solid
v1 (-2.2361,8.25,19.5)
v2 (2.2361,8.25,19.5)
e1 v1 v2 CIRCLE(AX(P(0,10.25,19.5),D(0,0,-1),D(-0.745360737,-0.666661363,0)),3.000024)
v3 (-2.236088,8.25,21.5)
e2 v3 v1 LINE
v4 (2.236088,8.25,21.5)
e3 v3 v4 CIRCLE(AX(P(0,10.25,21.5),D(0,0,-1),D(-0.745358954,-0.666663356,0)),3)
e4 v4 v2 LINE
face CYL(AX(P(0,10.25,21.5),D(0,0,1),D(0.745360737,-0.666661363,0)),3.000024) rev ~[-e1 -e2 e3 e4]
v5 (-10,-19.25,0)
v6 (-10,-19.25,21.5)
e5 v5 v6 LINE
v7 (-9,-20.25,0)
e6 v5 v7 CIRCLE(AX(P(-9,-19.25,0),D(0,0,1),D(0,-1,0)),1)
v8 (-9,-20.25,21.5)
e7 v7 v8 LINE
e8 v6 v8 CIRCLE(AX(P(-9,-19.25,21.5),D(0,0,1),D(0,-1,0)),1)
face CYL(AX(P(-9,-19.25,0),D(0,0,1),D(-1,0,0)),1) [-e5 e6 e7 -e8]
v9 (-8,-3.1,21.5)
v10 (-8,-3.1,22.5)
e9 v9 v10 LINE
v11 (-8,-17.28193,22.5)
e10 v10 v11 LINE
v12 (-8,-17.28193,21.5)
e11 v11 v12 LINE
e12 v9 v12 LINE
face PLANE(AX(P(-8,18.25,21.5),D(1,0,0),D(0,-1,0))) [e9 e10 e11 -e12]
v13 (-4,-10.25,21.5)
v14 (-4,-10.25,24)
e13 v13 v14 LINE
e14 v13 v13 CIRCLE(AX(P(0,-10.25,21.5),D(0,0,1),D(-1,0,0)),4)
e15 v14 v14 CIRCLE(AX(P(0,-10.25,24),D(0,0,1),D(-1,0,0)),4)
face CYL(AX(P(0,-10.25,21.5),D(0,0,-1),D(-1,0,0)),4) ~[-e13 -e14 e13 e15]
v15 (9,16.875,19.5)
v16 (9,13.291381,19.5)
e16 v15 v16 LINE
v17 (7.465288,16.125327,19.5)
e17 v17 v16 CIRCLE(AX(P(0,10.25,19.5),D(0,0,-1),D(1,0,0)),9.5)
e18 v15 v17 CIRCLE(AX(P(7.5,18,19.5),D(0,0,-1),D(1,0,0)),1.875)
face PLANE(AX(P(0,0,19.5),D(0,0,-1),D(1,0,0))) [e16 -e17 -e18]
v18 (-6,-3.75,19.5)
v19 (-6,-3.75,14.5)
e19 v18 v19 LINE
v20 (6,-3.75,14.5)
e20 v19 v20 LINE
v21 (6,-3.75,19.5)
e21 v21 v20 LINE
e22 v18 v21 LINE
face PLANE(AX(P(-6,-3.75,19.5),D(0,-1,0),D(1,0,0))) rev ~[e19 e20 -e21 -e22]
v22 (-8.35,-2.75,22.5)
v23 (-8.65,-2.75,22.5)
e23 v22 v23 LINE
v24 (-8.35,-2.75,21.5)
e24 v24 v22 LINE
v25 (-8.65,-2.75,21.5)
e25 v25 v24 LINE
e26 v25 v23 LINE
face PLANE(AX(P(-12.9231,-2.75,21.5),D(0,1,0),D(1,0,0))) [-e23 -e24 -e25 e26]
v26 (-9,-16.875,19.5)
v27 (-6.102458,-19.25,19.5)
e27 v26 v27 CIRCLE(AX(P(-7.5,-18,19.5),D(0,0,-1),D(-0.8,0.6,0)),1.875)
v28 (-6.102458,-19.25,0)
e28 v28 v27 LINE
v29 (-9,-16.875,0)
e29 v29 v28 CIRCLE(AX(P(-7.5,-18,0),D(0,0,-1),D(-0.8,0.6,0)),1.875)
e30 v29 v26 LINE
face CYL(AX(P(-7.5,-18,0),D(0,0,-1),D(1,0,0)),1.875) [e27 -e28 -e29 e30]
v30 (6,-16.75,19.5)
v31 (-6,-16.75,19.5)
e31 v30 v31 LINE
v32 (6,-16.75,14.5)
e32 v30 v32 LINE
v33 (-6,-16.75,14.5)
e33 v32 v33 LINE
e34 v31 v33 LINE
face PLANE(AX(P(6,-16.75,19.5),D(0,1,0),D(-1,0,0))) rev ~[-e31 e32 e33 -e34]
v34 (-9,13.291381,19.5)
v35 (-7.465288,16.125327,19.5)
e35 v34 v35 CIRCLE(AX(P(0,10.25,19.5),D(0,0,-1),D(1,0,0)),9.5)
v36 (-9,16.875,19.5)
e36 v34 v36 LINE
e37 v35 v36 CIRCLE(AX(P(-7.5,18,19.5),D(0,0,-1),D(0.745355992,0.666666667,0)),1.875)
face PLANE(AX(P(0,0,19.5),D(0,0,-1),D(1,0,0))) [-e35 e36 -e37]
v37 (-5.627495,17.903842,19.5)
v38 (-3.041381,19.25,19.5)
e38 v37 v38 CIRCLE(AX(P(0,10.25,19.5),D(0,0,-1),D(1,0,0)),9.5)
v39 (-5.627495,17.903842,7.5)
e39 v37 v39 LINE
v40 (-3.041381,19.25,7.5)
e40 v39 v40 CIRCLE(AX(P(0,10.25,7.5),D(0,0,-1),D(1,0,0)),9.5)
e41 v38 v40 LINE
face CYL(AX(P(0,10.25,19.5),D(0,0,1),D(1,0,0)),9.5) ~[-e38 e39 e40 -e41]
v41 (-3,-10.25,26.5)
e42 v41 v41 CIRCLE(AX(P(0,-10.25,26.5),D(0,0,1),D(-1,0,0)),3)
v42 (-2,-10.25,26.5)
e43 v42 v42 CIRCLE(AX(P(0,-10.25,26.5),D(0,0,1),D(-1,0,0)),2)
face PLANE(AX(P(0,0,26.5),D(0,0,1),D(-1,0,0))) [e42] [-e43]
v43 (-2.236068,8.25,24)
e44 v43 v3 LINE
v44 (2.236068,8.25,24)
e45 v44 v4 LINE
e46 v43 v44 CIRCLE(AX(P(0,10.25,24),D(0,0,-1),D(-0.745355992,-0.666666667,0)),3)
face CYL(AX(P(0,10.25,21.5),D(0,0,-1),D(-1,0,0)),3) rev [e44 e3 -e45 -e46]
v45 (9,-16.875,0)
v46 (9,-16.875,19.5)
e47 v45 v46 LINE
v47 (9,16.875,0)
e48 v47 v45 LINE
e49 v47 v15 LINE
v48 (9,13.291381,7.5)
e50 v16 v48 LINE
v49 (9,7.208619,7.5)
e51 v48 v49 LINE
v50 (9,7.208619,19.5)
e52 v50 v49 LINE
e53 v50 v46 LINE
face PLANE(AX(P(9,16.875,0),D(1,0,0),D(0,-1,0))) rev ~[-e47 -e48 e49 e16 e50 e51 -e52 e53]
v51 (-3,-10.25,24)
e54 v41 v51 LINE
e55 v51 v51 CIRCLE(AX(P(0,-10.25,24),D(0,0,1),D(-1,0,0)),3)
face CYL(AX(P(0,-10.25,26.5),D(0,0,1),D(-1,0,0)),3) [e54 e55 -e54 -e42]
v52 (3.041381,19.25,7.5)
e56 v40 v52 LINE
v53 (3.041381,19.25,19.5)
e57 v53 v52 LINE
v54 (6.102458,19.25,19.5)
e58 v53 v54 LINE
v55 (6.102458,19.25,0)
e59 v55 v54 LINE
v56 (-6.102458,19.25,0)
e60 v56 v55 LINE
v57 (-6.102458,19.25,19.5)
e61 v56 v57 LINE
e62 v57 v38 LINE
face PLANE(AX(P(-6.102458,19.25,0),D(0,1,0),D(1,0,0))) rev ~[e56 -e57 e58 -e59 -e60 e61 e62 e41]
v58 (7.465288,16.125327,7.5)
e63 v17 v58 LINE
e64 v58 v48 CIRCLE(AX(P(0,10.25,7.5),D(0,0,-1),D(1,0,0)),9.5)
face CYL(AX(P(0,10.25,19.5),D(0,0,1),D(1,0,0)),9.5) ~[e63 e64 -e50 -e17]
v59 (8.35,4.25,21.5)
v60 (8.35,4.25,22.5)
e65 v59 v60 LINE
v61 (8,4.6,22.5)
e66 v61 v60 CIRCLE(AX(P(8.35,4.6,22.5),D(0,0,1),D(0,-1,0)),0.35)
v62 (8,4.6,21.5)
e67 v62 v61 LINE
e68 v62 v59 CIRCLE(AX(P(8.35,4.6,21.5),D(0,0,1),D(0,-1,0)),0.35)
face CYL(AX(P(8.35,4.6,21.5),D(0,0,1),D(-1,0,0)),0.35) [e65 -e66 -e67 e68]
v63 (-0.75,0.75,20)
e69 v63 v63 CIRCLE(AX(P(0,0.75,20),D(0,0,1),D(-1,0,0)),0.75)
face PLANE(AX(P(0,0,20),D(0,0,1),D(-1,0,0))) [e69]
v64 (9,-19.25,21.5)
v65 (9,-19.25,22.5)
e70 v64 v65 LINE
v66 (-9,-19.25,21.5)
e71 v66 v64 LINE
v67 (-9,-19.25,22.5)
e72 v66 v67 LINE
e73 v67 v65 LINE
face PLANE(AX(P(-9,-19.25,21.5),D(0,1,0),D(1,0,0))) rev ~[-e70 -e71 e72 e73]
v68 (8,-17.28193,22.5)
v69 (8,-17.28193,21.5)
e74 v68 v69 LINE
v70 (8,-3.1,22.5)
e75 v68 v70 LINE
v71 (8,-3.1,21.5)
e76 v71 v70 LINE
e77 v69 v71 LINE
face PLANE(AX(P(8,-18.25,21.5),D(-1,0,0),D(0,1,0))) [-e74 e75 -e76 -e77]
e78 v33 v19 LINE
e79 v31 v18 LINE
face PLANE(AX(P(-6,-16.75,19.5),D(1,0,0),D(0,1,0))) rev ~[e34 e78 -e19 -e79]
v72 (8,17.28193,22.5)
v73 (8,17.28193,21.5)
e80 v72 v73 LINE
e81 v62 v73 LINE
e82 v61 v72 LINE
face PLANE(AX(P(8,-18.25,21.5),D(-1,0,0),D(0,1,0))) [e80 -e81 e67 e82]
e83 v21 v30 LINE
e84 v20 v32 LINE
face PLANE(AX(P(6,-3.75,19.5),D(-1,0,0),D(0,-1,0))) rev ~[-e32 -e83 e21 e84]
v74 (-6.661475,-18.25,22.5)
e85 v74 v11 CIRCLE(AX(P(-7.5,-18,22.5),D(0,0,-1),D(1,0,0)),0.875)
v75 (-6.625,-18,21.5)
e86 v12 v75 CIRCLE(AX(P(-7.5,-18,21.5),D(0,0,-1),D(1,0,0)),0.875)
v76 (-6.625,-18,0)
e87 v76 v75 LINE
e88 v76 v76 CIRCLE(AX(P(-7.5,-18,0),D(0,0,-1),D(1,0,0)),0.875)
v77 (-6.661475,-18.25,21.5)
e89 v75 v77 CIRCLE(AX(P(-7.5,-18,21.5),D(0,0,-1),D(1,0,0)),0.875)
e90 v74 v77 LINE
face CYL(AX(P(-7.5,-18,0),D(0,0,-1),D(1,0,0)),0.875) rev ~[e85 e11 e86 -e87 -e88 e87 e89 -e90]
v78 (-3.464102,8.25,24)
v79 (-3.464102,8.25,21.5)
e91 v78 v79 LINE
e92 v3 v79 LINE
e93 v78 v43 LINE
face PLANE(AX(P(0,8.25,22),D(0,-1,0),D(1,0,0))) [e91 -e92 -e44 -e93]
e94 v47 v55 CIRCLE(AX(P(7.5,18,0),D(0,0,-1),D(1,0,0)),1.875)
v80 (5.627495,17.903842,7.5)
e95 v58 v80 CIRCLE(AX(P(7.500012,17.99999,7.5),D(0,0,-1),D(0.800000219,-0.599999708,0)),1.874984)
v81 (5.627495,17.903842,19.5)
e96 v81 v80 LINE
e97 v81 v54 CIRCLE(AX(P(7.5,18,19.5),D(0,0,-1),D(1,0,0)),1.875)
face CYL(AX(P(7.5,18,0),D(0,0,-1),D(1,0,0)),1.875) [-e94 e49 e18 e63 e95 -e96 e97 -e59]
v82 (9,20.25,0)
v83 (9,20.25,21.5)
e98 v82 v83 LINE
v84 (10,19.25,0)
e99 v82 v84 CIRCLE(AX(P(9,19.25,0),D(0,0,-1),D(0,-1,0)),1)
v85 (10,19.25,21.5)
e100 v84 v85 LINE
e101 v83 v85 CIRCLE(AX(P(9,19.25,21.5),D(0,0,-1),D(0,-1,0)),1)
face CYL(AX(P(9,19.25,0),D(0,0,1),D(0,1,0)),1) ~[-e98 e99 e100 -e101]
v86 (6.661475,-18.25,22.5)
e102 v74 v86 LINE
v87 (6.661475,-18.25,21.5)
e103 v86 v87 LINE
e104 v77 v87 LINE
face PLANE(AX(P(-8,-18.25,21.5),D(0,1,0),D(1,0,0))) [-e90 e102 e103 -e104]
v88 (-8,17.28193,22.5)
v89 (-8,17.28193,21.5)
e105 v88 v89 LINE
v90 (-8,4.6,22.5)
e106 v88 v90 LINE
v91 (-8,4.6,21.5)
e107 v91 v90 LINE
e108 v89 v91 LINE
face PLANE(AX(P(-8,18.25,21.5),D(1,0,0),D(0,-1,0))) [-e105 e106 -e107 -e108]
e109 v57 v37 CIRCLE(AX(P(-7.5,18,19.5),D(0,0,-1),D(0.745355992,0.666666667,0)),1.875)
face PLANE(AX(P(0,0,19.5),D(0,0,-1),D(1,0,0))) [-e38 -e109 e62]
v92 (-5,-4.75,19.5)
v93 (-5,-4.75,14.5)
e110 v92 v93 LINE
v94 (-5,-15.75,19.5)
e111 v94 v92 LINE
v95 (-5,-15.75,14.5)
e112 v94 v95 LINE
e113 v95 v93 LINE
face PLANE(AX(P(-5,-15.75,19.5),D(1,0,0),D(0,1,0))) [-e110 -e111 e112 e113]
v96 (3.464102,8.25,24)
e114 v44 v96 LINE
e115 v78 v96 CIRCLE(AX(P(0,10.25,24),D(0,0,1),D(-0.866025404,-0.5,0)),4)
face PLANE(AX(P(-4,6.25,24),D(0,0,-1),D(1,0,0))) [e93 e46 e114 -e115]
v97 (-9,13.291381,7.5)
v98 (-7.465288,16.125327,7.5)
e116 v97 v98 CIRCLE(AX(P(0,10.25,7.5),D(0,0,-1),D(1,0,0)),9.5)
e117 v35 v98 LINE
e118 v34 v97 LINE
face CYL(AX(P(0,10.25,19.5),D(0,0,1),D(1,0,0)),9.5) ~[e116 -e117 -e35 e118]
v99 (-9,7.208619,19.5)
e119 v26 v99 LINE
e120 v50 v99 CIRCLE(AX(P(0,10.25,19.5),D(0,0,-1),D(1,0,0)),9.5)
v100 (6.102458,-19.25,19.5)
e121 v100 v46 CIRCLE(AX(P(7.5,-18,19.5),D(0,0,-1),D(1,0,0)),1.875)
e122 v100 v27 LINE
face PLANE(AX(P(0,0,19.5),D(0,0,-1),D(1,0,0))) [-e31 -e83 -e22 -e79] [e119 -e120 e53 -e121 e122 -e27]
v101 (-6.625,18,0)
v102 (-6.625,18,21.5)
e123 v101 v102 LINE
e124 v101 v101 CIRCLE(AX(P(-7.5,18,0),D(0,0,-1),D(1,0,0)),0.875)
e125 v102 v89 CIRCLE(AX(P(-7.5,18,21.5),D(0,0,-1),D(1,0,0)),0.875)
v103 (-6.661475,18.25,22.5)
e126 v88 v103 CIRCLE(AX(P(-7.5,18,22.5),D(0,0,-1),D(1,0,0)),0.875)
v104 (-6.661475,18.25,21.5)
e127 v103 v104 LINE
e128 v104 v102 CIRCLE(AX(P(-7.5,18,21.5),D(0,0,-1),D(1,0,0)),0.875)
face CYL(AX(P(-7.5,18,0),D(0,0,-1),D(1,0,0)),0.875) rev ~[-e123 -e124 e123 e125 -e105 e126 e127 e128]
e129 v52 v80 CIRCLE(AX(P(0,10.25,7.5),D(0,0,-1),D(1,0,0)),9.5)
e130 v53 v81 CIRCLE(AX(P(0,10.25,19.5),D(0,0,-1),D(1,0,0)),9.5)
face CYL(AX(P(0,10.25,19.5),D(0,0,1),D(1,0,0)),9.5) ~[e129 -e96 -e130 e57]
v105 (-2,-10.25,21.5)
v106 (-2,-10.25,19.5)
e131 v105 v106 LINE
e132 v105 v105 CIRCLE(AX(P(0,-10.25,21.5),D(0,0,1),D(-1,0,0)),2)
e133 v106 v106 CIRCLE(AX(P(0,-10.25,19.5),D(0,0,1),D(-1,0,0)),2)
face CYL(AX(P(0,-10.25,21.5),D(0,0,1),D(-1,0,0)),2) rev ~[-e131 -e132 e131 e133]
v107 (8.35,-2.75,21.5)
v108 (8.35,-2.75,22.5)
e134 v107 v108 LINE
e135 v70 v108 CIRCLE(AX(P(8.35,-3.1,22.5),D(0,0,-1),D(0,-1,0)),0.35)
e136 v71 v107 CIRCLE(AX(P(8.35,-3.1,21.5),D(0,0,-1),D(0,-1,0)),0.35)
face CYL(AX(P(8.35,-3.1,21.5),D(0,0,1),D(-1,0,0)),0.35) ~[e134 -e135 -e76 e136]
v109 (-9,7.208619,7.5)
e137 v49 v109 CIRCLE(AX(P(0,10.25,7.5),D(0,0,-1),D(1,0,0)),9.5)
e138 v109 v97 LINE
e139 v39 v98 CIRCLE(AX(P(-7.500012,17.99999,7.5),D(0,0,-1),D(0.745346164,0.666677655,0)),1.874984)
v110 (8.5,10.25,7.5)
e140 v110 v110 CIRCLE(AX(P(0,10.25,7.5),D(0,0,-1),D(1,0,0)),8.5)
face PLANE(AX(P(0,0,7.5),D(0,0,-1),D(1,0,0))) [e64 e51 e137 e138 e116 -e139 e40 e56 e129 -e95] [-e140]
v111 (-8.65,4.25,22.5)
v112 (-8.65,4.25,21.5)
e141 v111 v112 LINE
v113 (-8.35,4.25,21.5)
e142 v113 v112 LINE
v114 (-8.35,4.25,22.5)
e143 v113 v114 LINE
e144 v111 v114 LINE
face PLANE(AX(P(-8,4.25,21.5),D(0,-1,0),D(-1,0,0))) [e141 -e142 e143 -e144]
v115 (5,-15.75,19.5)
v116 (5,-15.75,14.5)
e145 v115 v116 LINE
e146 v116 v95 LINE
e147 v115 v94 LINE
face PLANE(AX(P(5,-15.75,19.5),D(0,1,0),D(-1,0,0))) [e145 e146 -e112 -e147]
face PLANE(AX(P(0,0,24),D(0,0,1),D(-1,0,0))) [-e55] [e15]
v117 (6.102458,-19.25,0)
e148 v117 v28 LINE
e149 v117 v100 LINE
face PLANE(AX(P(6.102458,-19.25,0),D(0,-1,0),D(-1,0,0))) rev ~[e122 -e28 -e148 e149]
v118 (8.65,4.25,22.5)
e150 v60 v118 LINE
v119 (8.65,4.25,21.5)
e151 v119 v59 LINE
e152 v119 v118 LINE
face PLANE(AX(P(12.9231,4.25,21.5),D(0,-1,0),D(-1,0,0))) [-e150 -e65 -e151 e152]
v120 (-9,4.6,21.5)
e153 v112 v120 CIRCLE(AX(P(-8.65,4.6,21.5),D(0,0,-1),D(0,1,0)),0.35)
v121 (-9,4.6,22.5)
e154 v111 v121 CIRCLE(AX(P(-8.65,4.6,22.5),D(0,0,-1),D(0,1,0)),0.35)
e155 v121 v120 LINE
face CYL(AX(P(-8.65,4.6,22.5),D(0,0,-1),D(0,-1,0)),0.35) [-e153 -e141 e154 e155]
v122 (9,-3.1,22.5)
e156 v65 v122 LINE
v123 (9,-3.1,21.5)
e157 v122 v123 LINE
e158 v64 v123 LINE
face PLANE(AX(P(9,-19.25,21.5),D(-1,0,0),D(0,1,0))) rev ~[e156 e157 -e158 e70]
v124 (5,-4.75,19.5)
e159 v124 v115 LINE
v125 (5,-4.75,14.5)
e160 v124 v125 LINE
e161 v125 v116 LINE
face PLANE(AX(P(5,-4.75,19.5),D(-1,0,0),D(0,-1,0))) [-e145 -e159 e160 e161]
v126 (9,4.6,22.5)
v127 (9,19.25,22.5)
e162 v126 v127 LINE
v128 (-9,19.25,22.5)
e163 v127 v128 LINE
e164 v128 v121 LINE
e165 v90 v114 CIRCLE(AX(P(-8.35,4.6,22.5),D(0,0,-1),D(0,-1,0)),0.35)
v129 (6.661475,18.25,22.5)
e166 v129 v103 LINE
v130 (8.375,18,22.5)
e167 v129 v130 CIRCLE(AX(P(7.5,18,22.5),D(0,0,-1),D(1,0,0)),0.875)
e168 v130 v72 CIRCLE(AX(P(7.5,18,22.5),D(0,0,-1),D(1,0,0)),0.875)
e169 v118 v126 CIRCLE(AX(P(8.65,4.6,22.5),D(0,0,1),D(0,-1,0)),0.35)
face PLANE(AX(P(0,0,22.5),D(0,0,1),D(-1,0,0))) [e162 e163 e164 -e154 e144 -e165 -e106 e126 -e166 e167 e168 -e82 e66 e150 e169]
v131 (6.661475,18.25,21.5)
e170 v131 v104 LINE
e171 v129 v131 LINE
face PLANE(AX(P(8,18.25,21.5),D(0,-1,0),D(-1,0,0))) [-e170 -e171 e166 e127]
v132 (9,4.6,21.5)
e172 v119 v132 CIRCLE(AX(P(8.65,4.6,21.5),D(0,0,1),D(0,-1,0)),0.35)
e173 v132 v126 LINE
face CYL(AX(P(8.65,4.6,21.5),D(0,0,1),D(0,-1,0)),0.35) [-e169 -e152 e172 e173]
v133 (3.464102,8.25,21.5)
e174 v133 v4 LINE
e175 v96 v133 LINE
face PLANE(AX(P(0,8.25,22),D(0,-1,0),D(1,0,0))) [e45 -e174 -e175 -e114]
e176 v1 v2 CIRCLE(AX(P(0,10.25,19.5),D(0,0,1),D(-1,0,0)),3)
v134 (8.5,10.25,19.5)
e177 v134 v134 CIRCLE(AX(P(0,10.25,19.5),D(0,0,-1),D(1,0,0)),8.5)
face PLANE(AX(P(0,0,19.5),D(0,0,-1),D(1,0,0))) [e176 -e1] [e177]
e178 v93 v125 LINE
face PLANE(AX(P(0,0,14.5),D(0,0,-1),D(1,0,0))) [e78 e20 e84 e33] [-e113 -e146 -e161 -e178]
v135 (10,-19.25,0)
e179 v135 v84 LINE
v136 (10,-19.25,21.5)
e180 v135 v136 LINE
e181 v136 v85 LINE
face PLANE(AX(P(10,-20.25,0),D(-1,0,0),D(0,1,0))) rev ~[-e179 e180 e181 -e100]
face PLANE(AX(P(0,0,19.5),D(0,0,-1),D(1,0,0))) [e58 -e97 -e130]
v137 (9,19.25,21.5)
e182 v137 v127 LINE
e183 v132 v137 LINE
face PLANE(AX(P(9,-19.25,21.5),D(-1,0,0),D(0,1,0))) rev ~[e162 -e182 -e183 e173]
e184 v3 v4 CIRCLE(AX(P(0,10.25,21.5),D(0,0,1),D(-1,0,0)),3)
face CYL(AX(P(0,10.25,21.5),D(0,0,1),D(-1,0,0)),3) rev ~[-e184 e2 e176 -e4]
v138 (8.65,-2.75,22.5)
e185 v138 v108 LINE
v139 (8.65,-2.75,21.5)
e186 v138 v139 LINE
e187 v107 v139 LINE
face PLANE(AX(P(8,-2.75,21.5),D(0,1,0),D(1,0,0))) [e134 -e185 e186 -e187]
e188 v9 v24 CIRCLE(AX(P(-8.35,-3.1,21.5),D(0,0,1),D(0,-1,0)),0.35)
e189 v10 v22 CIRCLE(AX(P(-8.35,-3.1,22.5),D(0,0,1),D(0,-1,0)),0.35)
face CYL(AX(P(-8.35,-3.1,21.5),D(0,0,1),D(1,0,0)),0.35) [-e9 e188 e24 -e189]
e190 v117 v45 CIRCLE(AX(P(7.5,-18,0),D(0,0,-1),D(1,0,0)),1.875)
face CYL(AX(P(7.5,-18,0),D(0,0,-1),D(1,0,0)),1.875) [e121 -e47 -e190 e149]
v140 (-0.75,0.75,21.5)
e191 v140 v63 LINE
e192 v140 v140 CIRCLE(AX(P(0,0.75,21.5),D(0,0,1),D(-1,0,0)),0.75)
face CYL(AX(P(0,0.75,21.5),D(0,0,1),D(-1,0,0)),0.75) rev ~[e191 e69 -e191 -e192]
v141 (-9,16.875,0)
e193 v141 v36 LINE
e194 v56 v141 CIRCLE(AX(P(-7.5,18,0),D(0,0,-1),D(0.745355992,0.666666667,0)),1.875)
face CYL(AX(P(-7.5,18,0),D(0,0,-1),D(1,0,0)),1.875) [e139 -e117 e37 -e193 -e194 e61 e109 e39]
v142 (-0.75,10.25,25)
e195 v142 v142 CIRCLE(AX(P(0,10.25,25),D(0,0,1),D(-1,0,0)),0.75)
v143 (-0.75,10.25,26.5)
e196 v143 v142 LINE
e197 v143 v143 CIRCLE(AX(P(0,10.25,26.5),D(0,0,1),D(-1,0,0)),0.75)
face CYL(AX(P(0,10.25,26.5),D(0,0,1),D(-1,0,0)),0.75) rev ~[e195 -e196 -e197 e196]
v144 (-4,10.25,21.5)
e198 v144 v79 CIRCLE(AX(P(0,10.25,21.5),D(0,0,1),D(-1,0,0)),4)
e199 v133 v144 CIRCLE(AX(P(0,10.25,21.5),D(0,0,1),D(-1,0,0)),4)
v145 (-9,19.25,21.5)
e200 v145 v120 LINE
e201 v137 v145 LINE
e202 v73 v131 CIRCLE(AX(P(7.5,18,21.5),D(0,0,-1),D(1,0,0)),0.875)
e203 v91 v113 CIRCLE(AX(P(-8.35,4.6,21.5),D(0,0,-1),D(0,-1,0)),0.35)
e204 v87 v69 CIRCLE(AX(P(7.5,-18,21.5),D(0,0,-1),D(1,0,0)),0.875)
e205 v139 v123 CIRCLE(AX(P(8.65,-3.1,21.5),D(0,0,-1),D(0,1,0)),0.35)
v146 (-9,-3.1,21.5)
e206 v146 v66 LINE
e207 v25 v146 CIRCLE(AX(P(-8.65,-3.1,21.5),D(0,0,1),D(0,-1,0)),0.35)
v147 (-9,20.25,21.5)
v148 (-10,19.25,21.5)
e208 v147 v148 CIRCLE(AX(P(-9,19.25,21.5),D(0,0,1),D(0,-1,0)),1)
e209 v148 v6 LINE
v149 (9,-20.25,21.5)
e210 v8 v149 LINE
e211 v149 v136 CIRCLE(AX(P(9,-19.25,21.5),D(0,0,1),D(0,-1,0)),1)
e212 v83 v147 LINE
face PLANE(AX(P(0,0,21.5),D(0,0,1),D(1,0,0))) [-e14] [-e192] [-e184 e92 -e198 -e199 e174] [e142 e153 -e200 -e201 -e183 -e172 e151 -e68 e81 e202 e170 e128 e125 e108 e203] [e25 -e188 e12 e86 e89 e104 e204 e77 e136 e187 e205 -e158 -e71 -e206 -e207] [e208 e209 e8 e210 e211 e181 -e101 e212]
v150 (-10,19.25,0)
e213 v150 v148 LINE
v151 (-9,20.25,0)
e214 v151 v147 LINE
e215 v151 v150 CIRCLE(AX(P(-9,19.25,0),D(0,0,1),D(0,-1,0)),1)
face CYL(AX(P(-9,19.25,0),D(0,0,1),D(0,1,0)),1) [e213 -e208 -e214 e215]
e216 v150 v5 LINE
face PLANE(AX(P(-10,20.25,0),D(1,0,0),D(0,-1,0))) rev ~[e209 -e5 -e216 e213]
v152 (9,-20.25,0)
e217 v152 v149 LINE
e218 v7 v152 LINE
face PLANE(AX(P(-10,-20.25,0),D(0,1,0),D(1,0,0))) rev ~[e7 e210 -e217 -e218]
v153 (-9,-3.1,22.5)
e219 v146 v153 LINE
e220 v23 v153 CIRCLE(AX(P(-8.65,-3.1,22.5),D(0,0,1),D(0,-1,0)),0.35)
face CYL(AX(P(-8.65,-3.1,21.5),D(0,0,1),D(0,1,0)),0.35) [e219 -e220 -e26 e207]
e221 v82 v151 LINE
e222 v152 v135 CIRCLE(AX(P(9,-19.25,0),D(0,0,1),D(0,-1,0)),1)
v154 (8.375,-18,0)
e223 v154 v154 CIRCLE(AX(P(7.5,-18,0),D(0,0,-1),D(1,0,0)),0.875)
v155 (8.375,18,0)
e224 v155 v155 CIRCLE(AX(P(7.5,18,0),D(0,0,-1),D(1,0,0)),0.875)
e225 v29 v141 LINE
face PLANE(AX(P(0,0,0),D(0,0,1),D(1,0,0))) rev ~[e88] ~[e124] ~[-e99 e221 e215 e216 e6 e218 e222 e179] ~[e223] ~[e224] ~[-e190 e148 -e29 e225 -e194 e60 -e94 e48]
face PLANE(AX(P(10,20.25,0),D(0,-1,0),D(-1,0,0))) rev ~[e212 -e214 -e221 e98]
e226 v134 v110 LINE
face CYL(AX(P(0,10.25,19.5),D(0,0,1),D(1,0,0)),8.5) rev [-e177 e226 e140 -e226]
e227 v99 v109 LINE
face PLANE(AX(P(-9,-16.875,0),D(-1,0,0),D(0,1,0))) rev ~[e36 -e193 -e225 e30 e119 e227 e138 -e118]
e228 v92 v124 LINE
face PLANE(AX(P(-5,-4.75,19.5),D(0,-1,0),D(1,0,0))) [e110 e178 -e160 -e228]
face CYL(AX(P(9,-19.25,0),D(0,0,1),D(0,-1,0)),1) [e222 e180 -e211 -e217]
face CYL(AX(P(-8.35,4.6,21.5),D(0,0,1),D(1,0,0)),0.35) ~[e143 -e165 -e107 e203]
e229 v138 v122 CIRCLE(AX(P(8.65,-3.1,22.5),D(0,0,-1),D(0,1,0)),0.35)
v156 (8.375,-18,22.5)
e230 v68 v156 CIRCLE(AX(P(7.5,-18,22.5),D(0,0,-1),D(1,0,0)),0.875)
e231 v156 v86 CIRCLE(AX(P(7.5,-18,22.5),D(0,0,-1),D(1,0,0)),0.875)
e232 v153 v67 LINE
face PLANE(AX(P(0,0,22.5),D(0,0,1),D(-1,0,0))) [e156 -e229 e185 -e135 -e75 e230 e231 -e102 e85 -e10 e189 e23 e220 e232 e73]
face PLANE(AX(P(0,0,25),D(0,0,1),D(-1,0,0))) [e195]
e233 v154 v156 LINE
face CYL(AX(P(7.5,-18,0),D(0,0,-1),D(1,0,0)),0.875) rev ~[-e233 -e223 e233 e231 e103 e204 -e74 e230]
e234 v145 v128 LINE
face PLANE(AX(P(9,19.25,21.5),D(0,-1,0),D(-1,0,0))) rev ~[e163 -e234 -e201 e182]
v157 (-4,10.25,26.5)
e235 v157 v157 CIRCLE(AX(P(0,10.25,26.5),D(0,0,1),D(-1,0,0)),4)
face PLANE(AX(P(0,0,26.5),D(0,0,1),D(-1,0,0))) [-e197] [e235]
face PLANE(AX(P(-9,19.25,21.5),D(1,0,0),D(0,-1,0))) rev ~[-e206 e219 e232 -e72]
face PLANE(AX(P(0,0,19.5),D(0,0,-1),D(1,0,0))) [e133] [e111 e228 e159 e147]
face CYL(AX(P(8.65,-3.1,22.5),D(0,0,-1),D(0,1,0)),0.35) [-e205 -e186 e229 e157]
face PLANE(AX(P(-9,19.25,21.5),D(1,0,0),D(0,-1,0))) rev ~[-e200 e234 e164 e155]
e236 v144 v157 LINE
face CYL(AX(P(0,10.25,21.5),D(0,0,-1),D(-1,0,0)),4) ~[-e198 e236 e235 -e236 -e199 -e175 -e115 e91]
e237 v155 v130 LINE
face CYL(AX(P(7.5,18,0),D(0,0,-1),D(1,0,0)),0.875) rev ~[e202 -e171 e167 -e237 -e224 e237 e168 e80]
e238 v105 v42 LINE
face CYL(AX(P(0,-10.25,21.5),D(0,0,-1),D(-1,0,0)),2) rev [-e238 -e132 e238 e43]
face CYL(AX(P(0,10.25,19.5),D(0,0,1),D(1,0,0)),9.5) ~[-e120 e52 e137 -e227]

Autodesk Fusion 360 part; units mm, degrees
sketch "Sketch1" plane through (0, 0, 0) normal (0, 0, 1) x (1, 0, 0)
  line L0 (10, 20.25) -> (-10, 20.25)
  line L1 (-10, 20.25) -> (-10, -20.25)
  line L2 (-10, -20.25) -> (10, -20.25)
  line L3 (10, -20.25) -> (10, 20.25)
  line L4 (10, 20.25) -> (-10, -20.25) construction
  line L5 (-10, 20.25) -> (10, -20.25) construction
  dimension "d1" = 20
  dimension "d2" = 40.5
extrude "Extrude1" add sketch "Sketch1" along normal blind 21.5
sketch "Sketch2" plane through (0, 0, 21.5) normal (0, 0, 1) x (-1, 0, 0)
  line L0 (-10, 20.25) -> (-10, -20.25)
  line L1 (-10, -20.25) -> (10, -20.25)
  line L2 (10, -20.25) -> (10, 20.25)
  line L3 (10, 20.25) -> (-10, 20.25)
  line L4 (-8, -18.25) -> (8, -18.25)
  line L5 (8, -18.25) -> (8, 18.25)
  line L6 (8, 18.25) -> (-8, 18.25)
  line L7 (-8, 18.25) -> (-8, -18.25)
  line L8 (-8, -18.25) -> (8, 18.25) construction
  line L9 (8, -18.25) -> (-8, 18.25) construction
  line L10 (-9, -19.25) -> (9, -19.25)
  line L11 (9, -19.25) -> (9, 19.25)
  line L12 (9, 19.25) -> (-9, 19.25)
  line L13 (-9, 19.25) -> (-9, -19.25)
  line L14 (-9, -19.25) -> (9, 19.25) construction
  line L15 (9, -19.25) -> (-9, 19.25) construction
  dimension "d5" = 1
  dimension "d6" = 1
  dimension "d7" = 1
  dimension "d8" = 1
extrude "Extrude2" add sketch "Sketch2" along normal blind 1 contours L10 L11 L12 L13
sketch "Sketch3" plane through (0, 0, 21.5) normal (0, 0, 1) x (-1, 0, 0)
  line L0 (-8, -18.25) -> (8, -18.25)
  line L1 (8, -18.25) -> (8, 18.25)
  line L2 (8, 18.25) -> (-8, 18.25)
  line L3 (-8, 18.25) -> (-8, -18.25)
  circle A0 centre (0, 10.25) radius 2
  line L4 (10, 20.25) -> (-10, 20.25)
  circle A1 centre (0, -0.75) radius 0.75
  circle A2 centre (0, -10.25) radius 3
  line L5 (-10, -20.25) -> (10, -20.25)
  circle A3 centre (0, -10.25) radius 4
  circle A4 centre (0, 10.25) radius 4
  dimension "d11" = 4
  dimension "d12" = 10
  dimension "d13" = 11
  dimension "d14" = 9.5
  dimension "d16" = 10
  dimension "d17" = 1.5
  dimension "d18" = 6
  dimension "d19" = 8
  dimension "d20" = 8
extrude "Extrude3" add sketch "Sketch3" along normal blind 5 contours A3
extrude "Extrude4" add sketch "Sketch3" along normal blind 5 contours A4
sketch "Sketch4" plane through (0, 0, 26.5) normal (0, 0, 1) x (-1, 0, 0)
  circle A0 centre (0, 10.25) radius 2
  circle A1 centre (0, 10.25) radius 4
  circle A2 centre (0, 10.25) radius 3
  dimension "d25" = 6
extrude "Extrude5" cut sketch "Sketch4" against normal blind 2.5 contours A1
extrude "Extrude6" cut sketch "Sketch3" against normal blind 1.5 contours A1
sketch "Sketch5" plane through (0, 0, 0) normal (0, 0, -1) x (1, 0, 0)
  line L0 (10, -20.25) -> (10, 20.25)
  line L1 (10, 20.25) -> (-10, 20.25)
  line L2 (-10, 20.25) -> (-10, -20.25)
  line L3 (-10, -20.25) -> (10, -20.25)
  line L4 (7.5, 18) -> (-7.5, 18) construction
  line L5 (-7.5, 18) -> (-7.5, -18) construction
  line L6 (-7.5, -18) -> (7.5, -18) construction
  line L7 (7.5, -18) -> (7.5, 18) construction
  line L8 (7.5, 18) -> (-7.5, -18) construction
  line L9 (-7.5, 18) -> (7.5, -18) construction
  circle A0 centre (-7.5, 18) radius 0.875
  circle A1 centre (7.5, 18) radius 0.875
  circle A2 centre (7.5, -18) radius 0.875
  circle A3 centre (-7.5, -18) radius 0.875
  dimension "d30" = 15
  dimension "d31" = 36
  dimension "d32" = 1.75
extrude "Extrude7" cut sketch "Sketch5" against normal blind 27 contours A0 | A1 | A2 | A3
sketch "Sketch6" plane through (0, 0, 0) normal (0, 0, -1) x (1, 0, 0)
  circle A0 centre (7.5, 18) radius 0.875
  circle A1 centre (7.5, -18) radius 0.875
  circle A2 centre (-7.5, 18) radius 0.875
  circle A3 centre (-7.5, -18) radius 0.875
  line L0 (10, -20.25) -> (10, 20.25)
  line L1 (10, 20.25) -> (-10, 20.25)
  line L2 (-10, 20.25) -> (-10, -20.25)
  line L3 (-10, -20.25) -> (10, -20.25)
  circle A4 centre (-7.5, 18) radius 1.875
  circle A5 centre (7.5, 18) radius 1.875
  circle A6 centre (7.5, -18) radius 1.875
  circle A7 centre (-7.5, -18) radius 1.875
  line L4 (9, 19.25) -> (-9, 19.25)
  line L5 (-9, 19.25) -> (-9, -19.25)
  line L6 (-9, -19.25) -> (9, -19.25)
  line L7 (9, -19.25) -> (9, 19.25)
  line L8 (9, 19.25) -> (-9, -19.25) construction
  line L9 (-9, 19.25) -> (9, -19.25) construction
  dimension "d35" = 3.75
  dimension "d36" = 1
  dimension "d37" = 1
extrude "Extrude8" cut sketch "Sketch6" against normal up to surface (19.5 mm away) contours A4 A5 A6 A7 L4 L5 L6 L7
extrude "Extrude9" cut 1 faces at (0.1483, -10.9, 21.5) along direction (0, 0, -1) blind 15
sketch "Sketch8" plane through (0, 0, 26.5) normal (0, 0, 1) x (-1, 0, 0)
  circle A0 centre (0, -10.25) radius 3
  circle A1 centre (0, -10.25) radius 4
  circle A2 centre (0, -10.25) radius 4
extrude "Extrude10" add sketch "Sketch8" against normal blind 2.5 contours A0
ref_plane "WorkPlane1" through (0, 6.25, 22) normal (0, -1, 0) x (1, 0, 0)
sketch "Sketch10" plane through (0, 6.25, 22) normal (0, -1, 0) x (1, 0, 0)
  line L0 (-4, 2) -> (4, 2)
  line L1 (4, 2) -> (4, -0.5)
  line L2 (4, -0.5) -> (-4, -0.5)
  line L3 (-4, -0.5) -> (-4, 2)
extrude "Extrude11" cut sketch "Sketch10" against normal blind 2
sketch "Sketch11" plane through (0, 0, 26.5) normal (0, 0, 1) x (-1, 0, 0)
  circle A0 centre (0, -10.25) radius 4
  circle A1 centre (0, -10.25) radius 0.75
  dimension "d47" = 1.5
extrude "Extrude12" cut sketch "Sketch11" against normal blind 1.5 contours A1
sketch "Sketch12" plane through (0, 0, 21.5) normal (0, 0, 1) x (-1, 0, 0)
  arc A0 (-3.4641, -8.25) -> (3.4641, -8.25) centre (0, -10.25) ccw
  line L0 (-3.4641, -8.25) -> (-2.2361, -8.25)
  arc A1 (-2.2361, -8.25) -> (2.2361, -8.25) centre (0, -10.25) ccw
  line L1 (2.2361, -8.25) -> (3.4641, -8.25)
  arc A2 (-8, 17.2819) -> (-6.6615, 18.25) centre (-7.5, 18) ccw
  line L2 (-8, 17.2819) -> (-8, -17.2819)
  arc A3 (-6.6615, -18.25) -> (-8, -17.2819) centre (-7.5, -18) ccw
  line L3 (-6.6615, -18.25) -> (6.6615, -18.25)
  arc A4 (8, -17.2819) -> (6.6615, -18.25) centre (7.5, -18) ccw
  line L4 (8, -17.2819) -> (8, 17.2819)
  arc A5 (6.6615, 18.25) -> (8, 17.2819) centre (7.5, 18) ccw
  line L5 (6.6615, 18.25) -> (-6.6615, 18.25)
  circle A6 centre (0, -0.75) radius 0.75
  circle A7 centre (0, 10.25) radius 4
  circle A8 centre (0, -10.25) radius 3
  dimension "d50" = 6
extrude "Extrude13" cut sketch "Sketch12" against normal blind 4 contours A1 A8
sketch "Sketch13" plane through (0, 0, 21.5) normal (0, 0, 1) x (-1, 0, 0)
  arc A0 (2.2361, -8.25) -> (-2.2361, -8.25) centre (0, -10.25) ccw
  line L0 (2.2361, -8.25) -> (3.4641, -8.25)
  arc A1 (-3.4641, -8.25) -> (3.4641, -8.25) centre (0, -10.25) ccw
  line L1 (-3.4641, -8.25) -> (-2.2361, -8.25)
  arc A2 (-8, 17.2819) -> (-6.6615, 18.25) centre (-7.5, 18) ccw
  line L2 (-8, 17.2819) -> (-8, -17.2819)
  arc A3 (-6.6615, -18.25) -> (-8, -17.2819) centre (-7.5, -18) ccw
  line L3 (-6.6615, -18.25) -> (6.6615, -18.25)
  arc A4 (8, -17.2819) -> (6.6615, -18.25) centre (7.5, -18) ccw
  line L4 (8, -17.2819) -> (8, 17.2819)
  arc A5 (6.6615, 18.25) -> (8, 17.2819) centre (7.5, 18) ccw
  line L5 (6.6615, 18.25) -> (-6.6615, 18.25)
  circle A6 centre (0, -0.75) radius 0.75
  circle A7 centre (0, 10.25) radius 4
  line L6 (-12.9231, -4.25) -> (12.9231, -4.25)
  line L7 (12.9231, -4.25) -> (12.9231, 2.75)
  line L8 (12.9231, 2.75) -> (-12.9231, 2.75)
  line L9 (-12.9231, 2.75) -> (-12.9231, -4.25)
  line L10 (-12.9231, -4.25) -> (12.9231, 2.75) construction
  line L11 (12.9231, -4.25) -> (-12.9231, 2.75) construction
  point P0 (0, -0.75)
  dimension "d53" = 7
extrude "Extrude14" cut sketch "Sketch13" along normal blind 3 contours L2 L6 L8 L9 | L4 L6 L7 L8
fillet "Fillet1" radius 0.35 8 edges at (-9, 4.25, 22) (-8, 4.25, 22) (-9, -2.75, 22) (-8, -2.75, 22) (8, 4.25, 22) (9, 4.25, 22) (8, -2.75, 22) (9, -2.75, 22)
fillet "Fillet2" radius 1 4 edges at (-10, -20.25, 10.75) (10, -20.25, 10.75) (-10, 20.25, 10.75) (10, 20.25, 10.75)
sketch "Sketch14" plane through (0, 0, 19.5) normal (0, 0, -1) x (1, 0, 0)
  circle A0 centre (0, -10.25) radius 3
  circle A1 centre (0, 10.25) radius 2
  arc A2 (-6.1025, -19.25) -> (-9, -16.875) centre (-7.5, -18) ccw
  line L0 (-6.1025, -19.25) -> (6.1025, -19.25)
  arc A3 (9, -16.875) -> (6.1025, -19.25) centre (7.5, -18) ccw
  line L1 (9, -16.875) -> (9, 16.875)
  arc A4 (6.1025, 19.25) -> (9, 16.875) centre (7.5, 18) ccw
  line L2 (6.1025, 19.25) -> (-6.1025, 19.25)
  arc A5 (-9, 16.875) -> (-6.1025, 19.25) centre (-7.5, 18) ccw
  line L3 (-9, 16.875) -> (-9, -16.875)
  circle A6 centre (0, -10.25) radius 8.5
  circle A7 centre (0, -10.25) radius 9.5
  dimension "d60" = 17
  dimension "d61" = 1
extrude "Extrude15" add sketch "Sketch14" along normal blind 12 contours A2 L0 A3 L1 L3 A7
sketch "Sketch15" plane through (0, 0, 19.5) normal (0, 0, -1) x (1, 0, 0)
  circle A0 centre (0, 10.25) radius 2
  arc A1 (9, -7.2086) -> (-9, -7.2086) centre (0, -10.25) ccw
  line L0 (9, -7.2086) -> (9, 16.875)
  arc A2 (6.1025, 19.25) -> (9, 16.875) centre (7.5, 18) ccw
  line L1 (6.1025, 19.25) -> (-6.1025, 19.25)
  arc A3 (-9, 16.875) -> (-6.1025, 19.25) centre (-7.5, 18) ccw
  line L2 (-9, 16.875) -> (-9, -7.2086)
  line L3 (5, 15.75) -> (-5, 15.75)
  line L4 (-5, 15.75) -> (-5, 4.75)
  line L5 (-5, 4.75) -> (5, 4.75)
  line L6 (5, 4.75) -> (5, 15.75)
  line L7 (5, 15.75) -> (-5, 4.75) construction
  line L8 (-5, 15.75) -> (5, 4.75) construction
  line L9 (6, 16.75) -> (-6, 16.75)
  line L10 (-6, 16.75) -> (-6, 3.75)
  line L11 (-6, 3.75) -> (6, 3.75)
  line L12 (6, 3.75) -> (6, 16.75)
  line L13 (6, 16.75) -> (-6, 3.75) construction
  line L14 (-6, 16.75) -> (6, 3.75) construction
  point P0 (0, 10.25)
  point P1 (0, 10.25)
  dimension "d64" = 10
  dimension "d65" = 11
  dimension "d66" = 1
  dimension "d67" = 1
extrude "Extrude16" add sketch "Sketch15" along normal blind 5 contours L9 L10 L11 L12
equation "d35 = 1.75 mm + 2 mm"
